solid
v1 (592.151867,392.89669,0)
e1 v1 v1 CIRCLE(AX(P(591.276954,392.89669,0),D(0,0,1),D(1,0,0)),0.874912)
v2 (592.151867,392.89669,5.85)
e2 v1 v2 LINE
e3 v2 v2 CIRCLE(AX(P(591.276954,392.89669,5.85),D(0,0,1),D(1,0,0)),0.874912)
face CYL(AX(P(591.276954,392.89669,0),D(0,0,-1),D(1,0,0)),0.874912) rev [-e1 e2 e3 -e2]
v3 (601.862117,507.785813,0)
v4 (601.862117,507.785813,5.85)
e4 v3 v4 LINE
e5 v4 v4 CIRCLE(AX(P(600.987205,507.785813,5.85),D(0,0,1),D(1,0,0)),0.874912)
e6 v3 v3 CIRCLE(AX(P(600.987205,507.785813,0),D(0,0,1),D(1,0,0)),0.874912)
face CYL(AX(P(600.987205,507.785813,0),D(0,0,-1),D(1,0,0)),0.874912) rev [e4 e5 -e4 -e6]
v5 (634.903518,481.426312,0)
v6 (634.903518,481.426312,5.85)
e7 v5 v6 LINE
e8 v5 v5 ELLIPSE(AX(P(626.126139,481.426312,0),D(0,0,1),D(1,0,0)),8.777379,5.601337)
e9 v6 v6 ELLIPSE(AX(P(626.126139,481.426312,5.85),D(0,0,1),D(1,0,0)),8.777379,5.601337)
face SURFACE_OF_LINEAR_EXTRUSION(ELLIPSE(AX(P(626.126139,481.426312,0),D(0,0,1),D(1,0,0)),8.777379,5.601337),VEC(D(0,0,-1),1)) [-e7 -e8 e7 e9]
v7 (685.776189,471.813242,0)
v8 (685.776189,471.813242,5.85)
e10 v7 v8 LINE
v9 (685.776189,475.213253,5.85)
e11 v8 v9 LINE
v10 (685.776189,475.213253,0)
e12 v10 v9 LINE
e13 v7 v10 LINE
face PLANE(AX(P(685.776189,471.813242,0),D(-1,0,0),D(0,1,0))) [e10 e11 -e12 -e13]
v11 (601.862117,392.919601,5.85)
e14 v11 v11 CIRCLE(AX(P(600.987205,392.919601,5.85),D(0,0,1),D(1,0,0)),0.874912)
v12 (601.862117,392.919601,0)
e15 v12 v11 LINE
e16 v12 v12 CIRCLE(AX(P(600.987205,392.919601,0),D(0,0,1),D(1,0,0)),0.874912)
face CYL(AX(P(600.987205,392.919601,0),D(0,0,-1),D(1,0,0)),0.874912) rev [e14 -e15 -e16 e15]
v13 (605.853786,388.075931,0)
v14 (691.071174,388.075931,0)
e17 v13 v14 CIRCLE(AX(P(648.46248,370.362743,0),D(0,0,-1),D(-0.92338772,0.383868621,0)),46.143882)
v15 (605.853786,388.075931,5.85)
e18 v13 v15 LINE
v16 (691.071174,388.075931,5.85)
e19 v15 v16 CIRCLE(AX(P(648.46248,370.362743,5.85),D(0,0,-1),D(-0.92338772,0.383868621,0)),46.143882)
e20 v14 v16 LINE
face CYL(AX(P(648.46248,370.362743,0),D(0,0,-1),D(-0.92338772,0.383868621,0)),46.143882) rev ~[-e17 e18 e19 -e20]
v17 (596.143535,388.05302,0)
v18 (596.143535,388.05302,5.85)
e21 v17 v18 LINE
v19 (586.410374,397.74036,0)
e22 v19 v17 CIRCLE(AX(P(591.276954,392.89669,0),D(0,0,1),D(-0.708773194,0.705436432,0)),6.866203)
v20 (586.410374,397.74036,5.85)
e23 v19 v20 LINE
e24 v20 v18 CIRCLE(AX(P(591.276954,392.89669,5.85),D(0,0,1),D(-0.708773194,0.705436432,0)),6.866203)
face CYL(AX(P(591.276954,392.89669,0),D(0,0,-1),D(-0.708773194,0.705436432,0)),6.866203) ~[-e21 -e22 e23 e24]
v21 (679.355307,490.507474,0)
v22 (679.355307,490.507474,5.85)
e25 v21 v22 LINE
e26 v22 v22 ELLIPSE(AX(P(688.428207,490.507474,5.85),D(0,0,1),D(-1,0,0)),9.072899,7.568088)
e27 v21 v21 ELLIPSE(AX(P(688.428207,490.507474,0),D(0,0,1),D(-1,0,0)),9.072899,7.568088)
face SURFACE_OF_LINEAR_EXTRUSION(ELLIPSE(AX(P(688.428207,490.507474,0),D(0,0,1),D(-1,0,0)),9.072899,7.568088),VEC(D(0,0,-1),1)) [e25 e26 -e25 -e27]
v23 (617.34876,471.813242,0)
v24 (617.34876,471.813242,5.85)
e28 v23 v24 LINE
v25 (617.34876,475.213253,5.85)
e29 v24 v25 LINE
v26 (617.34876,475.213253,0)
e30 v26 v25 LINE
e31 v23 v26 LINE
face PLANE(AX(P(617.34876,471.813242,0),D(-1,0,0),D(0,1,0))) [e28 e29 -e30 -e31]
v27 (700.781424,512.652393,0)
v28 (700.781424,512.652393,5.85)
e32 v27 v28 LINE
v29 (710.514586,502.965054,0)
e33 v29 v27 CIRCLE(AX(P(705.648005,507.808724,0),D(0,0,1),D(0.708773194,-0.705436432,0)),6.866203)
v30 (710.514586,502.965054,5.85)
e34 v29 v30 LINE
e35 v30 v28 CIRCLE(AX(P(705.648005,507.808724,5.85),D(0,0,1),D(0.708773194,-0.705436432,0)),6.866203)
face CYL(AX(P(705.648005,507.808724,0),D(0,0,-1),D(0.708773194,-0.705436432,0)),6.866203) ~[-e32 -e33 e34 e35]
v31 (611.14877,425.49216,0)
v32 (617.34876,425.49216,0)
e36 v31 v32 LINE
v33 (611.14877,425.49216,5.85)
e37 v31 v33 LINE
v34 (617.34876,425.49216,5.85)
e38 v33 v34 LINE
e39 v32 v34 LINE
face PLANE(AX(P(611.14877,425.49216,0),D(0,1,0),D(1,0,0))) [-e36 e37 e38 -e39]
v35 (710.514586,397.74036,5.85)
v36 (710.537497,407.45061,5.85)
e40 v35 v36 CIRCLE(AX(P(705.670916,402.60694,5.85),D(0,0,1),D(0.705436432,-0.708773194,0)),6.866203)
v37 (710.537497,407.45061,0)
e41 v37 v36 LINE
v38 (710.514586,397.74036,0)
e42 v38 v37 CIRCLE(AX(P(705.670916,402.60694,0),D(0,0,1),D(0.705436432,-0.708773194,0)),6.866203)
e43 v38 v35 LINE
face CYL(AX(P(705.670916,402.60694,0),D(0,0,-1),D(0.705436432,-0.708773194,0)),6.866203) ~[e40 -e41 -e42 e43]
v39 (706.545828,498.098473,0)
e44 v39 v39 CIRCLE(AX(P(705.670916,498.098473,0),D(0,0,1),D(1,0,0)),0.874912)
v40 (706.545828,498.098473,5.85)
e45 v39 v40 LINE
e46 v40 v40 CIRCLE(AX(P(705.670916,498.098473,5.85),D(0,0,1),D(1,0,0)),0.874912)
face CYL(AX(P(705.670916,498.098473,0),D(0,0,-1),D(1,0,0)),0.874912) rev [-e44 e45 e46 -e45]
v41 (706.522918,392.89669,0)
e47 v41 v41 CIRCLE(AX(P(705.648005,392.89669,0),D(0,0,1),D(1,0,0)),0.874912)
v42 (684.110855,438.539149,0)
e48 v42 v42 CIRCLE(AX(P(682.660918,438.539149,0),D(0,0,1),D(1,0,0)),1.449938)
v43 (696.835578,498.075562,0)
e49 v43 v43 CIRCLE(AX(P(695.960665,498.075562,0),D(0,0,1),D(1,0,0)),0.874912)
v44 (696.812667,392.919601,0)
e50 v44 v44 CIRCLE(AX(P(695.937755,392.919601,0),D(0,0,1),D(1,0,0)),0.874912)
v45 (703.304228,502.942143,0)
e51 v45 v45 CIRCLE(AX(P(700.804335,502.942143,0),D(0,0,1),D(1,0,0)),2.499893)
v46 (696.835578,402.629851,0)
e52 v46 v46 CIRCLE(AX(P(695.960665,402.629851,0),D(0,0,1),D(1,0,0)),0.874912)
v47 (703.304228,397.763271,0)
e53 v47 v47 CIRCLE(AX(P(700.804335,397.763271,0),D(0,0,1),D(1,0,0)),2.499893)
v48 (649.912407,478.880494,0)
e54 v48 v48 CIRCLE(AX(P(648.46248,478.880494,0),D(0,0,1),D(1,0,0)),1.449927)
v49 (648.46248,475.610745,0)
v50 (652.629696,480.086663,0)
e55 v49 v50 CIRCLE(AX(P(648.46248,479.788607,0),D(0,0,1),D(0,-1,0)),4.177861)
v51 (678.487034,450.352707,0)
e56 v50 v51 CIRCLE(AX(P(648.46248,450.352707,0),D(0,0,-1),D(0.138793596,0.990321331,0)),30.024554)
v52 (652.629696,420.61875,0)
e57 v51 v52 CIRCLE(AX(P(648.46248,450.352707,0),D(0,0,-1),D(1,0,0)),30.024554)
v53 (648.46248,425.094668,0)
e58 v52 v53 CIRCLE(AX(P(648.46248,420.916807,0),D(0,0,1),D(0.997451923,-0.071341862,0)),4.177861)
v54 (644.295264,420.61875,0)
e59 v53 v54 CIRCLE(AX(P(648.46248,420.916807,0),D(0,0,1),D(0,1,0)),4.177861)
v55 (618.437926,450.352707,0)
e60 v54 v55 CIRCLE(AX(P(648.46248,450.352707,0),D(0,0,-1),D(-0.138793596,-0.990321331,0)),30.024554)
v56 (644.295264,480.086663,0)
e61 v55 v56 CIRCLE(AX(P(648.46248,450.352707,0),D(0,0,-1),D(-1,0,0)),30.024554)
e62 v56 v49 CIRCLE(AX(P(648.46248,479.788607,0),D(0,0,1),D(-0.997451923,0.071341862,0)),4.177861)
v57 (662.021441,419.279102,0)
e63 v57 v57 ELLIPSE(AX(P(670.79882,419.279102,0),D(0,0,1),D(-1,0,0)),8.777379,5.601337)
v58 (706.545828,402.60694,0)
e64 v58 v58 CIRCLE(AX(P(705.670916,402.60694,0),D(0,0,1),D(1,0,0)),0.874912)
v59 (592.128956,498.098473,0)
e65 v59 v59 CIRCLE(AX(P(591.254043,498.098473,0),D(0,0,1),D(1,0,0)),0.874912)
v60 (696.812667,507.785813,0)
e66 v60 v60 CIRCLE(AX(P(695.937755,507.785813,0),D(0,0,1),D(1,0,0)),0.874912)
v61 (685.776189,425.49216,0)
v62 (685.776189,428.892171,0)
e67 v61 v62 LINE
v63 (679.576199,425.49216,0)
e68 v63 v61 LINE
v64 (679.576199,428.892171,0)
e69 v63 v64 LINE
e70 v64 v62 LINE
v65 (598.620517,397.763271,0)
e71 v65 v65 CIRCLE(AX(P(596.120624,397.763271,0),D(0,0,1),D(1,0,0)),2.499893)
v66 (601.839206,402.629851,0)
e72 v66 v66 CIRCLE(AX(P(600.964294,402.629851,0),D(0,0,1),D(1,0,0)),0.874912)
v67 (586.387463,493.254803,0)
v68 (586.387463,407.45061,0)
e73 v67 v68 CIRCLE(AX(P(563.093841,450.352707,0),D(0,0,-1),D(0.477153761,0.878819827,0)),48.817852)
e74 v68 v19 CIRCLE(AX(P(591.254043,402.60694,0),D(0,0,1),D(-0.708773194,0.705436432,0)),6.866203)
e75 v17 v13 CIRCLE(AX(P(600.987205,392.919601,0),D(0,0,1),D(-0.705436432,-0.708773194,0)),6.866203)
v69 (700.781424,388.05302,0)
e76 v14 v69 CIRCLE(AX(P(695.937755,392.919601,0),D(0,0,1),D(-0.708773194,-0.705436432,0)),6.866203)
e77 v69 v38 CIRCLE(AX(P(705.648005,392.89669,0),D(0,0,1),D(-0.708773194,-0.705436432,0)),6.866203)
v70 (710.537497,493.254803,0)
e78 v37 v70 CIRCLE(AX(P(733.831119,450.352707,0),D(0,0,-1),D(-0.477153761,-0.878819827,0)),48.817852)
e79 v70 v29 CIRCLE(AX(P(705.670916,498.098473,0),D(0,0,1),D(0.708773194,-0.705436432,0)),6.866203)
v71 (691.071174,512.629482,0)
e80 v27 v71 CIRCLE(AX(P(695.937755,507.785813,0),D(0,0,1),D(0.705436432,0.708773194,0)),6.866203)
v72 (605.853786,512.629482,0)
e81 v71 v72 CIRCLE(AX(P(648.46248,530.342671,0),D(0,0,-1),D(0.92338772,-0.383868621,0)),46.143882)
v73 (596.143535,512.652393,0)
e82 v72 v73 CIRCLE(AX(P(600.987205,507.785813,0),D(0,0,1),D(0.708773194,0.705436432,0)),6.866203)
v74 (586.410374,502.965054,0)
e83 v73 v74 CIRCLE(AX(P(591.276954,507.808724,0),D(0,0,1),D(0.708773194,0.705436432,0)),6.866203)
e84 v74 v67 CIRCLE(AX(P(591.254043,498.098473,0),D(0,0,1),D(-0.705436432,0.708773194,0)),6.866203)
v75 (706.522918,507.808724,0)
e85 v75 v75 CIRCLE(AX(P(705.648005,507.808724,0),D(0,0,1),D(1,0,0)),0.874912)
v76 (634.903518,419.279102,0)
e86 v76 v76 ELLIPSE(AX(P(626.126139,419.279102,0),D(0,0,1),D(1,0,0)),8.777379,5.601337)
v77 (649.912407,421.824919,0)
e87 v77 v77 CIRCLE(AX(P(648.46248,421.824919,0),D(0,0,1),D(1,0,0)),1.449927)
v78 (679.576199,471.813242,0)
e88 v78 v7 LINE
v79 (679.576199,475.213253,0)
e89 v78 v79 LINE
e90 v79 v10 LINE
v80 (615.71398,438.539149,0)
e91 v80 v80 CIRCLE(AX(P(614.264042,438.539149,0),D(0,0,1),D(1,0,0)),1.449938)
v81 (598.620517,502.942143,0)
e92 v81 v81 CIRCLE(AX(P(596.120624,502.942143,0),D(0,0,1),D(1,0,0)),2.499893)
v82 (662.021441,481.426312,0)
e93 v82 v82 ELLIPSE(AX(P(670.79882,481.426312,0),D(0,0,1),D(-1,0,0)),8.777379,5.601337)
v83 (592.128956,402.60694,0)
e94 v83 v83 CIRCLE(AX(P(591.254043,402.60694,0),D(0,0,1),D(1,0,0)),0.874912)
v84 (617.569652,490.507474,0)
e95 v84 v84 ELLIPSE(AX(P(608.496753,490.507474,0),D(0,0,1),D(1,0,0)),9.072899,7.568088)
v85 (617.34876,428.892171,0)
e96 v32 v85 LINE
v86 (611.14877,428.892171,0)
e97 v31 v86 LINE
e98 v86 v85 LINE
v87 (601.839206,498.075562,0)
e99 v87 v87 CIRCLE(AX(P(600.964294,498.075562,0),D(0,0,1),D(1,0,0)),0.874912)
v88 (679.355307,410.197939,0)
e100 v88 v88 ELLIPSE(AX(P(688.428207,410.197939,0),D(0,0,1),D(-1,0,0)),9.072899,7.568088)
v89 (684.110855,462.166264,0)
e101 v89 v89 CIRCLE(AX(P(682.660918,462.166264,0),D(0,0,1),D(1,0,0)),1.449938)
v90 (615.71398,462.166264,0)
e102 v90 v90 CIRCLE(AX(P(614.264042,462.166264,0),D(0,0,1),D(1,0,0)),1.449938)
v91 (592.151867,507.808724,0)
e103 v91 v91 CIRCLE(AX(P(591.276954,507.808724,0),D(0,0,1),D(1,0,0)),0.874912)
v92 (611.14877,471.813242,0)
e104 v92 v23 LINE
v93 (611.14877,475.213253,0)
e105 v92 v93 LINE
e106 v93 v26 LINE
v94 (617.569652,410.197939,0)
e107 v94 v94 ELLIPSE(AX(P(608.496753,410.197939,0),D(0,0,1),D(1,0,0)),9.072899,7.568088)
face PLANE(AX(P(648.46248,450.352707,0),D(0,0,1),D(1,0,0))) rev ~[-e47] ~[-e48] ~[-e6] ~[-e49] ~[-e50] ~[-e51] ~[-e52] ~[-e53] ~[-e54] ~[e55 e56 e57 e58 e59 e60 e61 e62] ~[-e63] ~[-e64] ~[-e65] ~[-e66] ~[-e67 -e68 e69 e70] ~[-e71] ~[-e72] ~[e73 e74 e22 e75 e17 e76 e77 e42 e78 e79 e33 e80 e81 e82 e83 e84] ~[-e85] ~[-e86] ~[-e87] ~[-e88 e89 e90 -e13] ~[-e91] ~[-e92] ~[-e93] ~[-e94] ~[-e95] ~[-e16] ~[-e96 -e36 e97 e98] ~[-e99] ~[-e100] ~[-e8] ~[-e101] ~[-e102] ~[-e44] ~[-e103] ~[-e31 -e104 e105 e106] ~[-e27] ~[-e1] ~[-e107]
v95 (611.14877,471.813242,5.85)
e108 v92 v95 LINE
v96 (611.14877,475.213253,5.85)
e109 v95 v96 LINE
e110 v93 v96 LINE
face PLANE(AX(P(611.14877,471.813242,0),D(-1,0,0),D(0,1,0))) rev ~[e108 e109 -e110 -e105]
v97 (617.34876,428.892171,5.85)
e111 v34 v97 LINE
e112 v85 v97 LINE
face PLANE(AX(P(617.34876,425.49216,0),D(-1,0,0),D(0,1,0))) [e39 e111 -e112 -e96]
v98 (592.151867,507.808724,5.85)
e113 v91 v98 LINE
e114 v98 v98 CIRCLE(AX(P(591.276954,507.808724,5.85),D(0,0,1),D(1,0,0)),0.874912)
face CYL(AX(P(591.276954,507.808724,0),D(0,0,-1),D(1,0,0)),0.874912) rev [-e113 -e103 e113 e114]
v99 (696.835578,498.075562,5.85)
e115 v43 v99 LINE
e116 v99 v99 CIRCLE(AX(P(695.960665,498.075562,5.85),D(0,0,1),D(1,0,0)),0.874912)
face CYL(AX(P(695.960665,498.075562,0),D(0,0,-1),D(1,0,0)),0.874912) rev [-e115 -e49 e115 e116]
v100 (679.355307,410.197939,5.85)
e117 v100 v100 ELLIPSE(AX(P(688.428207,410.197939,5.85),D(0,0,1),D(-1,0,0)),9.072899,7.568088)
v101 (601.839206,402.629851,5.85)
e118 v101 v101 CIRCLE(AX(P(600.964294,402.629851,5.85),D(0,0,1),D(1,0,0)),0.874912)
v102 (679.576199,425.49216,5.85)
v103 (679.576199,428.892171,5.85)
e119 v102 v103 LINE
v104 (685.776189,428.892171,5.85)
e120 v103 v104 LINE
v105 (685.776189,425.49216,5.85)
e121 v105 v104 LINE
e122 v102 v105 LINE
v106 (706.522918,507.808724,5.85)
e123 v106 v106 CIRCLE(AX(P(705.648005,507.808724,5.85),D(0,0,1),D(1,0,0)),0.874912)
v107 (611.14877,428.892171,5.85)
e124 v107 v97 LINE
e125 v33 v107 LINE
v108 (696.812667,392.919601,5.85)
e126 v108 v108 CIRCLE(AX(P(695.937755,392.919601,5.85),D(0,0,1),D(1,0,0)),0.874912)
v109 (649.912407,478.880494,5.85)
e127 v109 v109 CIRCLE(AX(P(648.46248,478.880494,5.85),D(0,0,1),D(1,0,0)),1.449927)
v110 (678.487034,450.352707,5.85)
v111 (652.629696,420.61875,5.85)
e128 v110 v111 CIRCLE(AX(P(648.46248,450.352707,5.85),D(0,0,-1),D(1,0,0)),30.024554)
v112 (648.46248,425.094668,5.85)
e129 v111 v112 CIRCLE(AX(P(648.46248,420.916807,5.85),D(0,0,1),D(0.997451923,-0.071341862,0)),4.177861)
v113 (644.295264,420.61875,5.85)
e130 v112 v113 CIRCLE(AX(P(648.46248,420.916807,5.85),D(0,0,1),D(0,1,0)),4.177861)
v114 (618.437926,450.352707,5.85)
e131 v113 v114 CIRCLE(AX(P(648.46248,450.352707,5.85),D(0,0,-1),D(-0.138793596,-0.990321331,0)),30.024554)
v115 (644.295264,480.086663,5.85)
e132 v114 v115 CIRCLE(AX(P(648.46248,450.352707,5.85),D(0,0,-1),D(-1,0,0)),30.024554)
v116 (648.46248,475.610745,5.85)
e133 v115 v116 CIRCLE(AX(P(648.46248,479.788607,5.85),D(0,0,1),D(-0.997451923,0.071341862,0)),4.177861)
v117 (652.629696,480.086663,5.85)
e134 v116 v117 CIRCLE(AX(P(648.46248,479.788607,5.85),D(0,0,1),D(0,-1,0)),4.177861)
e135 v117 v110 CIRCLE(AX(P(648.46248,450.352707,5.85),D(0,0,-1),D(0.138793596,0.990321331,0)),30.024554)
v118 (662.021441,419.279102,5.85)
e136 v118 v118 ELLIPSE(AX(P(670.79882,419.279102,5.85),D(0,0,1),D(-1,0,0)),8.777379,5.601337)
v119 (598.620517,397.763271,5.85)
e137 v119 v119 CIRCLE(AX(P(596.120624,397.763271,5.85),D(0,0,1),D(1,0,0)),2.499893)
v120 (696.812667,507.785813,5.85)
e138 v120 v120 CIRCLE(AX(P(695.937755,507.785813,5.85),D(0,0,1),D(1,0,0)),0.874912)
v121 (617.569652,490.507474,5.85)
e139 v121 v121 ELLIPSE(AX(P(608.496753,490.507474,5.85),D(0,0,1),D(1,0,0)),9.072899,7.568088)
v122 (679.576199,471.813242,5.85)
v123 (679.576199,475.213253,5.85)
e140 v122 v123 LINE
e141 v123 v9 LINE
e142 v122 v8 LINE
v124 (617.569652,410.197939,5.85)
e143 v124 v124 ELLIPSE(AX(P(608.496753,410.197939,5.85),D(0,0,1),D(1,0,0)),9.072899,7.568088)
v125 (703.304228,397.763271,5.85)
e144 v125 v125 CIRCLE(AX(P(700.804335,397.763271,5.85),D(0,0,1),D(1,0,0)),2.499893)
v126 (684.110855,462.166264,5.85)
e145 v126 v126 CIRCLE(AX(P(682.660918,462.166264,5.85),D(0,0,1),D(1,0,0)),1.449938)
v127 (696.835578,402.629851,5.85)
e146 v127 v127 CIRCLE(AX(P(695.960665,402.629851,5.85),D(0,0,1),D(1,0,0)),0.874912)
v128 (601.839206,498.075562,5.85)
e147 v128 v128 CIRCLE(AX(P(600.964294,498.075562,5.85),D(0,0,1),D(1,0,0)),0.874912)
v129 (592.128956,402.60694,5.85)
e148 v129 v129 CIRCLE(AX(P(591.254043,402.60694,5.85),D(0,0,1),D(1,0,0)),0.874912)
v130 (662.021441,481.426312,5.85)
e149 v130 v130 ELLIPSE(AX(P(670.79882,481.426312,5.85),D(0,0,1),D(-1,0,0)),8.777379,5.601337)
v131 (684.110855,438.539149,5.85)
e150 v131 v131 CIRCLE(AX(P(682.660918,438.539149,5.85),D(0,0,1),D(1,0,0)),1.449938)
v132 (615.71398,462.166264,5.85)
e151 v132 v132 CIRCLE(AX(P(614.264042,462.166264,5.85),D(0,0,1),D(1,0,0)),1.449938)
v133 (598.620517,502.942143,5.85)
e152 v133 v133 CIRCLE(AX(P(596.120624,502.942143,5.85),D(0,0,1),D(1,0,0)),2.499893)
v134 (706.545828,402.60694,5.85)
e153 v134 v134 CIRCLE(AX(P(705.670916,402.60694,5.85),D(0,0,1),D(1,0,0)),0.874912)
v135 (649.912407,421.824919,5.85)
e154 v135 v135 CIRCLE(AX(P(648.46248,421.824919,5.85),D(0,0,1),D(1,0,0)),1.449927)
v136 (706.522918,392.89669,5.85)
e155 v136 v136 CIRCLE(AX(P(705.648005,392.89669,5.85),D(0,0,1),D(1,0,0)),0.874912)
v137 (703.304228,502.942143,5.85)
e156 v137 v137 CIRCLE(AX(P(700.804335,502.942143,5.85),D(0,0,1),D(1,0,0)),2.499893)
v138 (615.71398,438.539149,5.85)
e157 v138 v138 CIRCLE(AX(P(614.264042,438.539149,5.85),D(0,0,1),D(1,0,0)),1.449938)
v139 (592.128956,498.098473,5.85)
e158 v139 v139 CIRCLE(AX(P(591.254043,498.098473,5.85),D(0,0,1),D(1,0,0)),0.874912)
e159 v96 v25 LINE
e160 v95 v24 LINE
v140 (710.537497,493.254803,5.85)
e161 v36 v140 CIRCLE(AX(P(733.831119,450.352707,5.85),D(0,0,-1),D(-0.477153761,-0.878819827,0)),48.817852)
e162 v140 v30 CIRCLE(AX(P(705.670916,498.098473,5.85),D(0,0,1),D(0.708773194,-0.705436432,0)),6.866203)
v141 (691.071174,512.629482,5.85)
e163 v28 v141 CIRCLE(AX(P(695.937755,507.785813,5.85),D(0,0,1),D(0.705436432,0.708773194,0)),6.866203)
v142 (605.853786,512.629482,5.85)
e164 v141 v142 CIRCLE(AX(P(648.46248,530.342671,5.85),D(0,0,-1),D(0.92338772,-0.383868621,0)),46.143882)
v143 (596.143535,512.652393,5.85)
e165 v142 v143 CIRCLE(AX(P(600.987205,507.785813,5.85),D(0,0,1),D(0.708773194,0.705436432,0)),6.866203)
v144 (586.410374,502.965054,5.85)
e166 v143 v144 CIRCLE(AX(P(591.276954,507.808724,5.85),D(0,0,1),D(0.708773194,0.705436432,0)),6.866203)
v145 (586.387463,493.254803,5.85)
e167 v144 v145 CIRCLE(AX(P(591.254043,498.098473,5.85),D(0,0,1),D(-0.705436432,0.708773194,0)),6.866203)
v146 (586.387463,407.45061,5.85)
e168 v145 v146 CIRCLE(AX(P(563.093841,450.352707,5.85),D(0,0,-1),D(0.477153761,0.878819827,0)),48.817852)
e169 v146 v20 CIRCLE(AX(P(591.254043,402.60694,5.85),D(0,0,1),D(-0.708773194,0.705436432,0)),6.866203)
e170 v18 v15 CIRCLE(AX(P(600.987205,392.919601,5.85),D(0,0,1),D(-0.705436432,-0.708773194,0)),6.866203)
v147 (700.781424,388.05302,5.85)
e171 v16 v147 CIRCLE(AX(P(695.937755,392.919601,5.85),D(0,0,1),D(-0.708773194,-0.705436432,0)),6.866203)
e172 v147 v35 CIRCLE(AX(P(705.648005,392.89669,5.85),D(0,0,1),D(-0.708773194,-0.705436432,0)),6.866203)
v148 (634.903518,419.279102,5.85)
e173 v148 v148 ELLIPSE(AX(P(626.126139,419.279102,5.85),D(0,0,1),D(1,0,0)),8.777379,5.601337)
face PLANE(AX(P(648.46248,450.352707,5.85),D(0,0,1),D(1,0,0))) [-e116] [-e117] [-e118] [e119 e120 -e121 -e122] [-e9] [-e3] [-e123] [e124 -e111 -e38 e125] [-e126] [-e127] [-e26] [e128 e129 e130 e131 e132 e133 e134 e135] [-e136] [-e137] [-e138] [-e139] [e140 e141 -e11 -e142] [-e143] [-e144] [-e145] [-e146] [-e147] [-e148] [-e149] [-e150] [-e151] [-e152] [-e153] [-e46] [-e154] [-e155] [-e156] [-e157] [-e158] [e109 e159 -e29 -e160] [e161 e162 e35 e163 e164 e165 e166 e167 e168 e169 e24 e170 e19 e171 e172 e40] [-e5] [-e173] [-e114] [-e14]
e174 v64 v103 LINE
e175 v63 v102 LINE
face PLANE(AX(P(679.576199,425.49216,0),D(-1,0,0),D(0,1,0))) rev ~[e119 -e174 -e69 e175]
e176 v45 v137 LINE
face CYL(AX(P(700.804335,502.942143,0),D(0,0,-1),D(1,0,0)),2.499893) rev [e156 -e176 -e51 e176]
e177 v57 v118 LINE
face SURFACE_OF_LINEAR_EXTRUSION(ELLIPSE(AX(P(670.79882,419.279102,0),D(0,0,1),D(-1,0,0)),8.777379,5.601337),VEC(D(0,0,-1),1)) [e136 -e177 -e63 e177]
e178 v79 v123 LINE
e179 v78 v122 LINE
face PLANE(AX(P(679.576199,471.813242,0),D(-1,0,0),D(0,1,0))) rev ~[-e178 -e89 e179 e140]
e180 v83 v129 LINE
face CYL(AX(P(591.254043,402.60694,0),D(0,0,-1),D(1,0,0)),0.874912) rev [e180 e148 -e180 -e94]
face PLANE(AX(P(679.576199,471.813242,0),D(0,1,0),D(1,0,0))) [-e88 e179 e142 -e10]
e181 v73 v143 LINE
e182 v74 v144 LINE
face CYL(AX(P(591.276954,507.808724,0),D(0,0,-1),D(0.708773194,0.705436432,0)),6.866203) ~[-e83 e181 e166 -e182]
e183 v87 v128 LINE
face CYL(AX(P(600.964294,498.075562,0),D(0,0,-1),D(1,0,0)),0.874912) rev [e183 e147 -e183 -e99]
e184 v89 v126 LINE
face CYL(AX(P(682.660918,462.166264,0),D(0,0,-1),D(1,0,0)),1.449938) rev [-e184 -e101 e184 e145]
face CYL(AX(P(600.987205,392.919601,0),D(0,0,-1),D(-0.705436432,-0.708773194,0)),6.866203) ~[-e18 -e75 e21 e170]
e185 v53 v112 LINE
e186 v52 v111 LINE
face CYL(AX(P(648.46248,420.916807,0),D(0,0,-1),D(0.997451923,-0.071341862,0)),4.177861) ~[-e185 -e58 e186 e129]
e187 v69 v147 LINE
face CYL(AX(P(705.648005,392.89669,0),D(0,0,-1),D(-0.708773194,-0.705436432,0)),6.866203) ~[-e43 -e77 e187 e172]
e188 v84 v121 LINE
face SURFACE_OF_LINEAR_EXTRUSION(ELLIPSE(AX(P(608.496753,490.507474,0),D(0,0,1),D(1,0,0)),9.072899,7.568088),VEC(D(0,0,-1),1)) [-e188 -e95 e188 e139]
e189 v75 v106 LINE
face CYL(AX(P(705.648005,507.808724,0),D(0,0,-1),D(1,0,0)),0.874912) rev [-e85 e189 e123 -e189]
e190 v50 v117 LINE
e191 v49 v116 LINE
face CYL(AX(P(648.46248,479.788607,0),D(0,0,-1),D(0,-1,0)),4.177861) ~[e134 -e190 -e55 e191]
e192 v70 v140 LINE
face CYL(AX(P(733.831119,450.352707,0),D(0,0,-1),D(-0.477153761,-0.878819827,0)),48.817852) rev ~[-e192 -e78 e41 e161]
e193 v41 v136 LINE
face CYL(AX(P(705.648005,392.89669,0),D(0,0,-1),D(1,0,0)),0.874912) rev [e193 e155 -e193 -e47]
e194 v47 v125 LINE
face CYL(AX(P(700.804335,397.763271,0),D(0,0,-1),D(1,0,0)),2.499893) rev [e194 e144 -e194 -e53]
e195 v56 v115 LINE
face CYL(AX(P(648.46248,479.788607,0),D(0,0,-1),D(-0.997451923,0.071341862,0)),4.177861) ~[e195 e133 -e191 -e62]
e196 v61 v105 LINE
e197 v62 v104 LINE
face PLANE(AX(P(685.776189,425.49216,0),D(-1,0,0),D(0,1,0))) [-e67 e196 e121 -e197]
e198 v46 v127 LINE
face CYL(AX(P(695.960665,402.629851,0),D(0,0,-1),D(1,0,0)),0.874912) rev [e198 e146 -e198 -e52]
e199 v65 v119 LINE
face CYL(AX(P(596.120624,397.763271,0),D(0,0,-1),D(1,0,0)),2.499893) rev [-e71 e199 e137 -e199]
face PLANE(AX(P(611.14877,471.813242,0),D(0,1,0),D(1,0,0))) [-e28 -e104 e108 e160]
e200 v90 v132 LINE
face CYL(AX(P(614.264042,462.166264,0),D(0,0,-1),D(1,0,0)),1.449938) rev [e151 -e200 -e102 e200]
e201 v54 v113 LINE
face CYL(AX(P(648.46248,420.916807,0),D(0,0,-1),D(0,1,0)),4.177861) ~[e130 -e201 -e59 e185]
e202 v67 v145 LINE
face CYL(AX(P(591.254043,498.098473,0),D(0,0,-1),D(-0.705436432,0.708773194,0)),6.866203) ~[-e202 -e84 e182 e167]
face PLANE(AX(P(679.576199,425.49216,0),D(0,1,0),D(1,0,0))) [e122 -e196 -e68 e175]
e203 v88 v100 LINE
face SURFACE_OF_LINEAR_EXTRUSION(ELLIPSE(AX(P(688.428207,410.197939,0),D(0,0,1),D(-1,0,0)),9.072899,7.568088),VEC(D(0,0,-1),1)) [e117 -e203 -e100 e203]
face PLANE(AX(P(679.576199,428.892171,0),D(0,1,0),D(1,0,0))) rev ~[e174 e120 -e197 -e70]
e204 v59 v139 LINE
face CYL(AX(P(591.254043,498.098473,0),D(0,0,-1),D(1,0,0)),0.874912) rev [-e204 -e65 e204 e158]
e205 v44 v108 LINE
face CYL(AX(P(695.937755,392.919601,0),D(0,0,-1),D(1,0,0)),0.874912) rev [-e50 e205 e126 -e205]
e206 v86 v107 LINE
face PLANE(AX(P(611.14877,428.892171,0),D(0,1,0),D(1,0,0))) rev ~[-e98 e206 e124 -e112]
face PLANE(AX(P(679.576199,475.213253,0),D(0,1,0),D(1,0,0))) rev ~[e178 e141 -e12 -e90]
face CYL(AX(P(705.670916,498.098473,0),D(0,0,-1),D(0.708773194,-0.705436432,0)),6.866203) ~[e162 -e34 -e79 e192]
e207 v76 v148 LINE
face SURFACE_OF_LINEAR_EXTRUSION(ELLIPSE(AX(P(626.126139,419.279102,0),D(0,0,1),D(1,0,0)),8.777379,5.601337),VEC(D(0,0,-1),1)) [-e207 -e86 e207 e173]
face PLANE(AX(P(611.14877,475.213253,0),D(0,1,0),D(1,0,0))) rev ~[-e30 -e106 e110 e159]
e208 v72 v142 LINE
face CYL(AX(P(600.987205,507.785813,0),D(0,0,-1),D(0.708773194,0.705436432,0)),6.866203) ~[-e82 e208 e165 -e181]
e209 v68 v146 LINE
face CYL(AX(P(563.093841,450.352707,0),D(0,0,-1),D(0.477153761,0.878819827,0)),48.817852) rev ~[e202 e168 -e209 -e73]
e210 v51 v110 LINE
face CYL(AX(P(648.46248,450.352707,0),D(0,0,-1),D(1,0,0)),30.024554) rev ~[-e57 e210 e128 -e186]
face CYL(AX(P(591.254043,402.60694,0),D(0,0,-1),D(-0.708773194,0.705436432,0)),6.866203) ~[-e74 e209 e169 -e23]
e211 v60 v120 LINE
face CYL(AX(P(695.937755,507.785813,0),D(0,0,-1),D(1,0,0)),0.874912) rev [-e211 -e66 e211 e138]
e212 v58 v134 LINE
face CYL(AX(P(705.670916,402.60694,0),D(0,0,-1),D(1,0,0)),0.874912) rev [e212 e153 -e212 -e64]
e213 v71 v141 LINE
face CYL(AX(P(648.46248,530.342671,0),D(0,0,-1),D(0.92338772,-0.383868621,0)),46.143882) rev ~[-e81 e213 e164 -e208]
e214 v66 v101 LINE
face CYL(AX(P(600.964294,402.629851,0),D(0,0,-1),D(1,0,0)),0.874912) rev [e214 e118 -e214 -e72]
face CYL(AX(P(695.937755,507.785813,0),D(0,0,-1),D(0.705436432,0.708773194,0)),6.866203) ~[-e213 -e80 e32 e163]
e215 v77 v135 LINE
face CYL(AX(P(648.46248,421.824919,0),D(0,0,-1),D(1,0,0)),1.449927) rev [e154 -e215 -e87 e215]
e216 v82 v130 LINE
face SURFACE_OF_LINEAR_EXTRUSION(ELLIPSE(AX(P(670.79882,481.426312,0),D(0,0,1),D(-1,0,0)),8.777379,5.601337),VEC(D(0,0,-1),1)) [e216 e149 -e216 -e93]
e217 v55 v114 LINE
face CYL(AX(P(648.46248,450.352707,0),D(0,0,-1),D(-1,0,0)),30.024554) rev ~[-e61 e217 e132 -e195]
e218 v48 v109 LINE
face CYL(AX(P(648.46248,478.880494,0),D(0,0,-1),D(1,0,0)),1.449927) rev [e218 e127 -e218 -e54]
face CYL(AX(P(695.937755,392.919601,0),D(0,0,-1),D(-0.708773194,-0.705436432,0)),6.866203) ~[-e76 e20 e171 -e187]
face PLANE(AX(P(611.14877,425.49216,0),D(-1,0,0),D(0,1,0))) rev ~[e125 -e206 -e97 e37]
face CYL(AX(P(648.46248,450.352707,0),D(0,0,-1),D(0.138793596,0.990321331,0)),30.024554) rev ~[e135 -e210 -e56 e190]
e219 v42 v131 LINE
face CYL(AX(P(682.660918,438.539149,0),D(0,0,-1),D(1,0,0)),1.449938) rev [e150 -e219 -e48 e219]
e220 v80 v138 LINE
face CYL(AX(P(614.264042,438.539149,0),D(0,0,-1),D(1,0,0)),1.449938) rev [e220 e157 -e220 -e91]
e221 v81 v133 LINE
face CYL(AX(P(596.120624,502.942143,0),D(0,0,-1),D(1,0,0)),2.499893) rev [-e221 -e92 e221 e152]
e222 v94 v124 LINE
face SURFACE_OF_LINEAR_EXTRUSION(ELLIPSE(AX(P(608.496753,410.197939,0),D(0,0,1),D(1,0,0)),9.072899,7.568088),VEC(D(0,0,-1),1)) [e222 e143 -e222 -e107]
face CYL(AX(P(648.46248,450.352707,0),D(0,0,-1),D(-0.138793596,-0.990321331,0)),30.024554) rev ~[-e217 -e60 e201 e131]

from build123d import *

# Parameters (mm, degrees)
SKETCH1_R           = 1.449927
SKETCH1_R_2         = 1.449937953
SKETCH1_R_3         = 0.874912417
SKETCH1_R_4         = 2.499893062
SKETCH1_RX          = 9.072899251
SKETCH1_RY          = 7.568087766
SKETCH1_RX_2        = 8.777378771
SKETCH1_RY_2        = 5.601336902
SKETCH1_W           = 6.19999
SKETCH1_H           = 3.400011
BOSS_EXTRUDE3_DEPTH = 5.85


with BuildPart() as part:
    # Sketch1 → Boss-Extrude3 (new body)
    with BuildSketch(Plane.XY):
        with BuildLine():
            ThreePointArc((586.387462743, 493.254803119), (611.911693149, 450.352706702), (586.387462742, 407.450610286))
            ThreePointArc((586.387462742, 407.450610286), (584.387859448, 402.590740006), (586.410373629, 397.740359727))
            ThreePointArc((586.410373629, 397.740359727), (586.433284516, 388.030109168), (596.143535075, 388.053020055))
            ThreePointArc((596.143535075, 388.053020055), (601.003405354, 386.053416761), (605.853785634, 388.075930942))
            ThreePointArc((605.853785634, 388.075930942), (648.462479749, 416.506624656), (691.071173865, 388.075930942))
            ThreePointArc((691.071173865, 388.075930942), (695.921554144, 386.053416761), (700.781424424, 388.053020055))
            ThreePointArc((700.781424424, 388.053020055), (710.491674982, 388.030109168), (710.514585869, 397.740359727))
            ThreePointArc((710.514585869, 397.740359727), (712.53710005, 402.590740006), (710.537496756, 407.450610285))
            ThreePointArc((710.537496756, 407.450610285), (685.01326635, 450.352706702), (710.537496756, 493.254803119))
            ThreePointArc((710.537496756, 493.254803119), (712.53710005, 498.114673398), (710.514585869, 502.965053678))
            ThreePointArc((710.514585869, 502.965053678), (710.491674982, 512.675304236), (700.781424424, 512.652393349))
            ThreePointArc((700.781424424, 512.652393349), (695.921554144, 514.651996644), (691.071173865, 512.629482462))
            ThreePointArc((691.071173865, 512.629482462), (648.462479749, 484.198788748), (605.853785634, 512.629482462))
            ThreePointArc((605.853785634, 512.629482462), (601.003405354, 514.651996644), (596.143535075, 512.652393349))
            ThreePointArc((596.143535075, 512.652393349), (586.433284516, 512.675304236), (586.41037363, 502.965053678))
            ThreePointArc((586.41037363, 502.965053678), (584.387859448, 498.114673398), (586.387462743, 493.254803119))
        make_face()
        with Locations((648.462479749, 478.880494)):
            Circle(SKETCH1_R, mode=Mode.SUBTRACT)
        with Locations((682.660917541, 462.166264459)):
            Circle(SKETCH1_R_2, mode=Mode.SUBTRACT)
        with Locations((600.964294024, 498.075562068)):
            Circle(SKETCH1_R_3, mode=Mode.SUBTRACT)
        with Locations((591.254043465, 498.098472955)):
            Circle(SKETCH1_R_3, mode=Mode.SUBTRACT)
        with Locations((591.276954352, 507.808723514)):
            Circle(SKETCH1_R_3, mode=Mode.SUBTRACT)
        with Locations((600.987204911, 507.785812627)):
            Circle(SKETCH1_R_3, mode=Mode.SUBTRACT)
        with Locations((596.120624188, 502.942142791)):
            Circle(SKETCH1_R_4, mode=Mode.SUBTRACT)
        with Locations((700.804335311, 502.942142791)):
            Circle(SKETCH1_R_4, mode=Mode.SUBTRACT)
        with Locations((695.937754588, 507.785812627)):
            Circle(SKETCH1_R_3, mode=Mode.SUBTRACT)
        with Locations((705.648005146, 507.808723514)):
            Circle(SKETCH1_R_3, mode=Mode.SUBTRACT)
        with Locations((705.670916033, 498.098472955)):
            Circle(SKETCH1_R_3, mode=Mode.SUBTRACT)
        with Locations((695.960665475, 498.075562068)):
            Circle(SKETCH1_R_3, mode=Mode.SUBTRACT)
        with Locations((614.264041957, 462.166264459)):
            Circle(SKETCH1_R_2, mode=Mode.SUBTRACT)
        with Locations((614.264041957, 438.539148946)):
            Circle(SKETCH1_R_2, mode=Mode.SUBTRACT)
        with Locations((695.960665475, 402.629851336)):
            Circle(SKETCH1_R_3, mode=Mode.SUBTRACT)
        with Locations((705.670916033, 402.606940449)):
            Circle(SKETCH1_R_3, mode=Mode.SUBTRACT)
        with Locations((705.648005146, 392.896689891)):
            Circle(SKETCH1_R_3, mode=Mode.SUBTRACT)
        with Locations((695.937754588, 392.919600778)):
            Circle(SKETCH1_R_3, mode=Mode.SUBTRACT)
        with Locations((700.804335311, 397.763270613)):
            Circle(SKETCH1_R_4, mode=Mode.SUBTRACT)
        with Locations((596.120624188, 397.763270613)):
            Circle(SKETCH1_R_4, mode=Mode.SUBTRACT)
        with Locations((600.987204911, 392.919600778)):
            Circle(SKETCH1_R_3, mode=Mode.SUBTRACT)
        with Locations((591.276954352, 392.896689891)):
            Circle(SKETCH1_R_3, mode=Mode.SUBTRACT)
        with Locations((591.254043465, 402.606940449)):
            Circle(SKETCH1_R_3, mode=Mode.SUBTRACT)
        with Locations((600.964294024, 402.629851336)):
            Circle(SKETCH1_R_3, mode=Mode.SUBTRACT)
        with Locations((682.660917541, 438.539148946)):
            Circle(SKETCH1_R_2, mode=Mode.SUBTRACT)
        with Locations((648.462479749, 421.824919404)):
            Circle(SKETCH1_R, mode=Mode.SUBTRACT)
        with Locations((608.496752749, 490.507474302)):
            Ellipse(SKETCH1_RX, SKETCH1_RY, mode=Mode.SUBTRACT)
        with Locations(Location((670.798820229, 481.426311828), (0, 0, 180))):
            Ellipse(SKETCH1_RX_2, SKETCH1_RY_2, mode=Mode.SUBTRACT)
        with Locations(Location((688.428206749, 490.507474302), (0, 0, 180))):
            Ellipse(SKETCH1_RX, SKETCH1_RY, mode=Mode.SUBTRACT)
        with Locations((626.12613927, 481.426311828)):
            Ellipse(SKETCH1_RX_2, SKETCH1_RY_2, mode=Mode.SUBTRACT)
        with Locations((626.12613927, 419.279101576)):
            Ellipse(SKETCH1_RX_2, SKETCH1_RY_2, mode=Mode.SUBTRACT)
        with Locations(Location((688.428206749, 410.197939102), (0, 0, 180))):
            Ellipse(SKETCH1_RX, SKETCH1_RY, mode=Mode.SUBTRACT)
        with Locations(Location((670.798820229, 419.279101576), (0, 0, 180))):
            Ellipse(SKETCH1_RX_2, SKETCH1_RY_2, mode=Mode.SUBTRACT)
        with Locations((608.496752749, 410.197939102)):
            Ellipse(SKETCH1_RX, SKETCH1_RY, mode=Mode.SUBTRACT)
        with Locations((614.248765499, 473.5132475)):
            Rectangle(SKETCH1_W, SKETCH1_H, mode=Mode.SUBTRACT)
        with Locations((682.676194, 473.5132475)):
            Rectangle(SKETCH1_W, SKETCH1_H, mode=Mode.SUBTRACT)
        with Locations((682.676194, 427.192165904)):
            Rectangle(SKETCH1_W, SKETCH1_H, mode=Mode.SUBTRACT)
        with Locations((614.248765499, 427.192165904)):
            Rectangle(SKETCH1_W, SKETCH1_H, mode=Mode.SUBTRACT)
        with BuildLine():
            ThreePointArc((652.62969556, 480.08666297), (671.118523525, 470.054927983), (678.48703375, 450.352706702))
            ThreePointArc((678.48703375, 450.352706702), (671.118523525, 430.650485421), (652.62969556, 420.618750434))
            ThreePointArc((652.62969556, 420.618750434), (651.520237389, 423.763672389), (648.462479749, 425.094668164))
            ThreePointArc((648.462479749, 425.094668164), (645.40472211, 423.763672389), (644.295263939, 420.618750434))
            ThreePointArc((644.295263939, 420.618750434), (625.806435974, 430.650485421), (618.437925749, 450.352706702))
            ThreePointArc((618.437925749, 450.352706702), (625.806435974, 470.054927983), (644.295263939, 480.08666297))
            ThreePointArc((644.295263939, 480.08666297), (645.40472211, 476.941741015), (648.462479749, 475.610745241))
            ThreePointArc((648.462479749, 475.610745241), (651.520237389, 476.941741015), (652.62969556, 480.08666297))
        make_face(mode=Mode.SUBTRACT)
    extrude(amount=BOSS_EXTRUDE3_DEPTH)


solid = part.part
